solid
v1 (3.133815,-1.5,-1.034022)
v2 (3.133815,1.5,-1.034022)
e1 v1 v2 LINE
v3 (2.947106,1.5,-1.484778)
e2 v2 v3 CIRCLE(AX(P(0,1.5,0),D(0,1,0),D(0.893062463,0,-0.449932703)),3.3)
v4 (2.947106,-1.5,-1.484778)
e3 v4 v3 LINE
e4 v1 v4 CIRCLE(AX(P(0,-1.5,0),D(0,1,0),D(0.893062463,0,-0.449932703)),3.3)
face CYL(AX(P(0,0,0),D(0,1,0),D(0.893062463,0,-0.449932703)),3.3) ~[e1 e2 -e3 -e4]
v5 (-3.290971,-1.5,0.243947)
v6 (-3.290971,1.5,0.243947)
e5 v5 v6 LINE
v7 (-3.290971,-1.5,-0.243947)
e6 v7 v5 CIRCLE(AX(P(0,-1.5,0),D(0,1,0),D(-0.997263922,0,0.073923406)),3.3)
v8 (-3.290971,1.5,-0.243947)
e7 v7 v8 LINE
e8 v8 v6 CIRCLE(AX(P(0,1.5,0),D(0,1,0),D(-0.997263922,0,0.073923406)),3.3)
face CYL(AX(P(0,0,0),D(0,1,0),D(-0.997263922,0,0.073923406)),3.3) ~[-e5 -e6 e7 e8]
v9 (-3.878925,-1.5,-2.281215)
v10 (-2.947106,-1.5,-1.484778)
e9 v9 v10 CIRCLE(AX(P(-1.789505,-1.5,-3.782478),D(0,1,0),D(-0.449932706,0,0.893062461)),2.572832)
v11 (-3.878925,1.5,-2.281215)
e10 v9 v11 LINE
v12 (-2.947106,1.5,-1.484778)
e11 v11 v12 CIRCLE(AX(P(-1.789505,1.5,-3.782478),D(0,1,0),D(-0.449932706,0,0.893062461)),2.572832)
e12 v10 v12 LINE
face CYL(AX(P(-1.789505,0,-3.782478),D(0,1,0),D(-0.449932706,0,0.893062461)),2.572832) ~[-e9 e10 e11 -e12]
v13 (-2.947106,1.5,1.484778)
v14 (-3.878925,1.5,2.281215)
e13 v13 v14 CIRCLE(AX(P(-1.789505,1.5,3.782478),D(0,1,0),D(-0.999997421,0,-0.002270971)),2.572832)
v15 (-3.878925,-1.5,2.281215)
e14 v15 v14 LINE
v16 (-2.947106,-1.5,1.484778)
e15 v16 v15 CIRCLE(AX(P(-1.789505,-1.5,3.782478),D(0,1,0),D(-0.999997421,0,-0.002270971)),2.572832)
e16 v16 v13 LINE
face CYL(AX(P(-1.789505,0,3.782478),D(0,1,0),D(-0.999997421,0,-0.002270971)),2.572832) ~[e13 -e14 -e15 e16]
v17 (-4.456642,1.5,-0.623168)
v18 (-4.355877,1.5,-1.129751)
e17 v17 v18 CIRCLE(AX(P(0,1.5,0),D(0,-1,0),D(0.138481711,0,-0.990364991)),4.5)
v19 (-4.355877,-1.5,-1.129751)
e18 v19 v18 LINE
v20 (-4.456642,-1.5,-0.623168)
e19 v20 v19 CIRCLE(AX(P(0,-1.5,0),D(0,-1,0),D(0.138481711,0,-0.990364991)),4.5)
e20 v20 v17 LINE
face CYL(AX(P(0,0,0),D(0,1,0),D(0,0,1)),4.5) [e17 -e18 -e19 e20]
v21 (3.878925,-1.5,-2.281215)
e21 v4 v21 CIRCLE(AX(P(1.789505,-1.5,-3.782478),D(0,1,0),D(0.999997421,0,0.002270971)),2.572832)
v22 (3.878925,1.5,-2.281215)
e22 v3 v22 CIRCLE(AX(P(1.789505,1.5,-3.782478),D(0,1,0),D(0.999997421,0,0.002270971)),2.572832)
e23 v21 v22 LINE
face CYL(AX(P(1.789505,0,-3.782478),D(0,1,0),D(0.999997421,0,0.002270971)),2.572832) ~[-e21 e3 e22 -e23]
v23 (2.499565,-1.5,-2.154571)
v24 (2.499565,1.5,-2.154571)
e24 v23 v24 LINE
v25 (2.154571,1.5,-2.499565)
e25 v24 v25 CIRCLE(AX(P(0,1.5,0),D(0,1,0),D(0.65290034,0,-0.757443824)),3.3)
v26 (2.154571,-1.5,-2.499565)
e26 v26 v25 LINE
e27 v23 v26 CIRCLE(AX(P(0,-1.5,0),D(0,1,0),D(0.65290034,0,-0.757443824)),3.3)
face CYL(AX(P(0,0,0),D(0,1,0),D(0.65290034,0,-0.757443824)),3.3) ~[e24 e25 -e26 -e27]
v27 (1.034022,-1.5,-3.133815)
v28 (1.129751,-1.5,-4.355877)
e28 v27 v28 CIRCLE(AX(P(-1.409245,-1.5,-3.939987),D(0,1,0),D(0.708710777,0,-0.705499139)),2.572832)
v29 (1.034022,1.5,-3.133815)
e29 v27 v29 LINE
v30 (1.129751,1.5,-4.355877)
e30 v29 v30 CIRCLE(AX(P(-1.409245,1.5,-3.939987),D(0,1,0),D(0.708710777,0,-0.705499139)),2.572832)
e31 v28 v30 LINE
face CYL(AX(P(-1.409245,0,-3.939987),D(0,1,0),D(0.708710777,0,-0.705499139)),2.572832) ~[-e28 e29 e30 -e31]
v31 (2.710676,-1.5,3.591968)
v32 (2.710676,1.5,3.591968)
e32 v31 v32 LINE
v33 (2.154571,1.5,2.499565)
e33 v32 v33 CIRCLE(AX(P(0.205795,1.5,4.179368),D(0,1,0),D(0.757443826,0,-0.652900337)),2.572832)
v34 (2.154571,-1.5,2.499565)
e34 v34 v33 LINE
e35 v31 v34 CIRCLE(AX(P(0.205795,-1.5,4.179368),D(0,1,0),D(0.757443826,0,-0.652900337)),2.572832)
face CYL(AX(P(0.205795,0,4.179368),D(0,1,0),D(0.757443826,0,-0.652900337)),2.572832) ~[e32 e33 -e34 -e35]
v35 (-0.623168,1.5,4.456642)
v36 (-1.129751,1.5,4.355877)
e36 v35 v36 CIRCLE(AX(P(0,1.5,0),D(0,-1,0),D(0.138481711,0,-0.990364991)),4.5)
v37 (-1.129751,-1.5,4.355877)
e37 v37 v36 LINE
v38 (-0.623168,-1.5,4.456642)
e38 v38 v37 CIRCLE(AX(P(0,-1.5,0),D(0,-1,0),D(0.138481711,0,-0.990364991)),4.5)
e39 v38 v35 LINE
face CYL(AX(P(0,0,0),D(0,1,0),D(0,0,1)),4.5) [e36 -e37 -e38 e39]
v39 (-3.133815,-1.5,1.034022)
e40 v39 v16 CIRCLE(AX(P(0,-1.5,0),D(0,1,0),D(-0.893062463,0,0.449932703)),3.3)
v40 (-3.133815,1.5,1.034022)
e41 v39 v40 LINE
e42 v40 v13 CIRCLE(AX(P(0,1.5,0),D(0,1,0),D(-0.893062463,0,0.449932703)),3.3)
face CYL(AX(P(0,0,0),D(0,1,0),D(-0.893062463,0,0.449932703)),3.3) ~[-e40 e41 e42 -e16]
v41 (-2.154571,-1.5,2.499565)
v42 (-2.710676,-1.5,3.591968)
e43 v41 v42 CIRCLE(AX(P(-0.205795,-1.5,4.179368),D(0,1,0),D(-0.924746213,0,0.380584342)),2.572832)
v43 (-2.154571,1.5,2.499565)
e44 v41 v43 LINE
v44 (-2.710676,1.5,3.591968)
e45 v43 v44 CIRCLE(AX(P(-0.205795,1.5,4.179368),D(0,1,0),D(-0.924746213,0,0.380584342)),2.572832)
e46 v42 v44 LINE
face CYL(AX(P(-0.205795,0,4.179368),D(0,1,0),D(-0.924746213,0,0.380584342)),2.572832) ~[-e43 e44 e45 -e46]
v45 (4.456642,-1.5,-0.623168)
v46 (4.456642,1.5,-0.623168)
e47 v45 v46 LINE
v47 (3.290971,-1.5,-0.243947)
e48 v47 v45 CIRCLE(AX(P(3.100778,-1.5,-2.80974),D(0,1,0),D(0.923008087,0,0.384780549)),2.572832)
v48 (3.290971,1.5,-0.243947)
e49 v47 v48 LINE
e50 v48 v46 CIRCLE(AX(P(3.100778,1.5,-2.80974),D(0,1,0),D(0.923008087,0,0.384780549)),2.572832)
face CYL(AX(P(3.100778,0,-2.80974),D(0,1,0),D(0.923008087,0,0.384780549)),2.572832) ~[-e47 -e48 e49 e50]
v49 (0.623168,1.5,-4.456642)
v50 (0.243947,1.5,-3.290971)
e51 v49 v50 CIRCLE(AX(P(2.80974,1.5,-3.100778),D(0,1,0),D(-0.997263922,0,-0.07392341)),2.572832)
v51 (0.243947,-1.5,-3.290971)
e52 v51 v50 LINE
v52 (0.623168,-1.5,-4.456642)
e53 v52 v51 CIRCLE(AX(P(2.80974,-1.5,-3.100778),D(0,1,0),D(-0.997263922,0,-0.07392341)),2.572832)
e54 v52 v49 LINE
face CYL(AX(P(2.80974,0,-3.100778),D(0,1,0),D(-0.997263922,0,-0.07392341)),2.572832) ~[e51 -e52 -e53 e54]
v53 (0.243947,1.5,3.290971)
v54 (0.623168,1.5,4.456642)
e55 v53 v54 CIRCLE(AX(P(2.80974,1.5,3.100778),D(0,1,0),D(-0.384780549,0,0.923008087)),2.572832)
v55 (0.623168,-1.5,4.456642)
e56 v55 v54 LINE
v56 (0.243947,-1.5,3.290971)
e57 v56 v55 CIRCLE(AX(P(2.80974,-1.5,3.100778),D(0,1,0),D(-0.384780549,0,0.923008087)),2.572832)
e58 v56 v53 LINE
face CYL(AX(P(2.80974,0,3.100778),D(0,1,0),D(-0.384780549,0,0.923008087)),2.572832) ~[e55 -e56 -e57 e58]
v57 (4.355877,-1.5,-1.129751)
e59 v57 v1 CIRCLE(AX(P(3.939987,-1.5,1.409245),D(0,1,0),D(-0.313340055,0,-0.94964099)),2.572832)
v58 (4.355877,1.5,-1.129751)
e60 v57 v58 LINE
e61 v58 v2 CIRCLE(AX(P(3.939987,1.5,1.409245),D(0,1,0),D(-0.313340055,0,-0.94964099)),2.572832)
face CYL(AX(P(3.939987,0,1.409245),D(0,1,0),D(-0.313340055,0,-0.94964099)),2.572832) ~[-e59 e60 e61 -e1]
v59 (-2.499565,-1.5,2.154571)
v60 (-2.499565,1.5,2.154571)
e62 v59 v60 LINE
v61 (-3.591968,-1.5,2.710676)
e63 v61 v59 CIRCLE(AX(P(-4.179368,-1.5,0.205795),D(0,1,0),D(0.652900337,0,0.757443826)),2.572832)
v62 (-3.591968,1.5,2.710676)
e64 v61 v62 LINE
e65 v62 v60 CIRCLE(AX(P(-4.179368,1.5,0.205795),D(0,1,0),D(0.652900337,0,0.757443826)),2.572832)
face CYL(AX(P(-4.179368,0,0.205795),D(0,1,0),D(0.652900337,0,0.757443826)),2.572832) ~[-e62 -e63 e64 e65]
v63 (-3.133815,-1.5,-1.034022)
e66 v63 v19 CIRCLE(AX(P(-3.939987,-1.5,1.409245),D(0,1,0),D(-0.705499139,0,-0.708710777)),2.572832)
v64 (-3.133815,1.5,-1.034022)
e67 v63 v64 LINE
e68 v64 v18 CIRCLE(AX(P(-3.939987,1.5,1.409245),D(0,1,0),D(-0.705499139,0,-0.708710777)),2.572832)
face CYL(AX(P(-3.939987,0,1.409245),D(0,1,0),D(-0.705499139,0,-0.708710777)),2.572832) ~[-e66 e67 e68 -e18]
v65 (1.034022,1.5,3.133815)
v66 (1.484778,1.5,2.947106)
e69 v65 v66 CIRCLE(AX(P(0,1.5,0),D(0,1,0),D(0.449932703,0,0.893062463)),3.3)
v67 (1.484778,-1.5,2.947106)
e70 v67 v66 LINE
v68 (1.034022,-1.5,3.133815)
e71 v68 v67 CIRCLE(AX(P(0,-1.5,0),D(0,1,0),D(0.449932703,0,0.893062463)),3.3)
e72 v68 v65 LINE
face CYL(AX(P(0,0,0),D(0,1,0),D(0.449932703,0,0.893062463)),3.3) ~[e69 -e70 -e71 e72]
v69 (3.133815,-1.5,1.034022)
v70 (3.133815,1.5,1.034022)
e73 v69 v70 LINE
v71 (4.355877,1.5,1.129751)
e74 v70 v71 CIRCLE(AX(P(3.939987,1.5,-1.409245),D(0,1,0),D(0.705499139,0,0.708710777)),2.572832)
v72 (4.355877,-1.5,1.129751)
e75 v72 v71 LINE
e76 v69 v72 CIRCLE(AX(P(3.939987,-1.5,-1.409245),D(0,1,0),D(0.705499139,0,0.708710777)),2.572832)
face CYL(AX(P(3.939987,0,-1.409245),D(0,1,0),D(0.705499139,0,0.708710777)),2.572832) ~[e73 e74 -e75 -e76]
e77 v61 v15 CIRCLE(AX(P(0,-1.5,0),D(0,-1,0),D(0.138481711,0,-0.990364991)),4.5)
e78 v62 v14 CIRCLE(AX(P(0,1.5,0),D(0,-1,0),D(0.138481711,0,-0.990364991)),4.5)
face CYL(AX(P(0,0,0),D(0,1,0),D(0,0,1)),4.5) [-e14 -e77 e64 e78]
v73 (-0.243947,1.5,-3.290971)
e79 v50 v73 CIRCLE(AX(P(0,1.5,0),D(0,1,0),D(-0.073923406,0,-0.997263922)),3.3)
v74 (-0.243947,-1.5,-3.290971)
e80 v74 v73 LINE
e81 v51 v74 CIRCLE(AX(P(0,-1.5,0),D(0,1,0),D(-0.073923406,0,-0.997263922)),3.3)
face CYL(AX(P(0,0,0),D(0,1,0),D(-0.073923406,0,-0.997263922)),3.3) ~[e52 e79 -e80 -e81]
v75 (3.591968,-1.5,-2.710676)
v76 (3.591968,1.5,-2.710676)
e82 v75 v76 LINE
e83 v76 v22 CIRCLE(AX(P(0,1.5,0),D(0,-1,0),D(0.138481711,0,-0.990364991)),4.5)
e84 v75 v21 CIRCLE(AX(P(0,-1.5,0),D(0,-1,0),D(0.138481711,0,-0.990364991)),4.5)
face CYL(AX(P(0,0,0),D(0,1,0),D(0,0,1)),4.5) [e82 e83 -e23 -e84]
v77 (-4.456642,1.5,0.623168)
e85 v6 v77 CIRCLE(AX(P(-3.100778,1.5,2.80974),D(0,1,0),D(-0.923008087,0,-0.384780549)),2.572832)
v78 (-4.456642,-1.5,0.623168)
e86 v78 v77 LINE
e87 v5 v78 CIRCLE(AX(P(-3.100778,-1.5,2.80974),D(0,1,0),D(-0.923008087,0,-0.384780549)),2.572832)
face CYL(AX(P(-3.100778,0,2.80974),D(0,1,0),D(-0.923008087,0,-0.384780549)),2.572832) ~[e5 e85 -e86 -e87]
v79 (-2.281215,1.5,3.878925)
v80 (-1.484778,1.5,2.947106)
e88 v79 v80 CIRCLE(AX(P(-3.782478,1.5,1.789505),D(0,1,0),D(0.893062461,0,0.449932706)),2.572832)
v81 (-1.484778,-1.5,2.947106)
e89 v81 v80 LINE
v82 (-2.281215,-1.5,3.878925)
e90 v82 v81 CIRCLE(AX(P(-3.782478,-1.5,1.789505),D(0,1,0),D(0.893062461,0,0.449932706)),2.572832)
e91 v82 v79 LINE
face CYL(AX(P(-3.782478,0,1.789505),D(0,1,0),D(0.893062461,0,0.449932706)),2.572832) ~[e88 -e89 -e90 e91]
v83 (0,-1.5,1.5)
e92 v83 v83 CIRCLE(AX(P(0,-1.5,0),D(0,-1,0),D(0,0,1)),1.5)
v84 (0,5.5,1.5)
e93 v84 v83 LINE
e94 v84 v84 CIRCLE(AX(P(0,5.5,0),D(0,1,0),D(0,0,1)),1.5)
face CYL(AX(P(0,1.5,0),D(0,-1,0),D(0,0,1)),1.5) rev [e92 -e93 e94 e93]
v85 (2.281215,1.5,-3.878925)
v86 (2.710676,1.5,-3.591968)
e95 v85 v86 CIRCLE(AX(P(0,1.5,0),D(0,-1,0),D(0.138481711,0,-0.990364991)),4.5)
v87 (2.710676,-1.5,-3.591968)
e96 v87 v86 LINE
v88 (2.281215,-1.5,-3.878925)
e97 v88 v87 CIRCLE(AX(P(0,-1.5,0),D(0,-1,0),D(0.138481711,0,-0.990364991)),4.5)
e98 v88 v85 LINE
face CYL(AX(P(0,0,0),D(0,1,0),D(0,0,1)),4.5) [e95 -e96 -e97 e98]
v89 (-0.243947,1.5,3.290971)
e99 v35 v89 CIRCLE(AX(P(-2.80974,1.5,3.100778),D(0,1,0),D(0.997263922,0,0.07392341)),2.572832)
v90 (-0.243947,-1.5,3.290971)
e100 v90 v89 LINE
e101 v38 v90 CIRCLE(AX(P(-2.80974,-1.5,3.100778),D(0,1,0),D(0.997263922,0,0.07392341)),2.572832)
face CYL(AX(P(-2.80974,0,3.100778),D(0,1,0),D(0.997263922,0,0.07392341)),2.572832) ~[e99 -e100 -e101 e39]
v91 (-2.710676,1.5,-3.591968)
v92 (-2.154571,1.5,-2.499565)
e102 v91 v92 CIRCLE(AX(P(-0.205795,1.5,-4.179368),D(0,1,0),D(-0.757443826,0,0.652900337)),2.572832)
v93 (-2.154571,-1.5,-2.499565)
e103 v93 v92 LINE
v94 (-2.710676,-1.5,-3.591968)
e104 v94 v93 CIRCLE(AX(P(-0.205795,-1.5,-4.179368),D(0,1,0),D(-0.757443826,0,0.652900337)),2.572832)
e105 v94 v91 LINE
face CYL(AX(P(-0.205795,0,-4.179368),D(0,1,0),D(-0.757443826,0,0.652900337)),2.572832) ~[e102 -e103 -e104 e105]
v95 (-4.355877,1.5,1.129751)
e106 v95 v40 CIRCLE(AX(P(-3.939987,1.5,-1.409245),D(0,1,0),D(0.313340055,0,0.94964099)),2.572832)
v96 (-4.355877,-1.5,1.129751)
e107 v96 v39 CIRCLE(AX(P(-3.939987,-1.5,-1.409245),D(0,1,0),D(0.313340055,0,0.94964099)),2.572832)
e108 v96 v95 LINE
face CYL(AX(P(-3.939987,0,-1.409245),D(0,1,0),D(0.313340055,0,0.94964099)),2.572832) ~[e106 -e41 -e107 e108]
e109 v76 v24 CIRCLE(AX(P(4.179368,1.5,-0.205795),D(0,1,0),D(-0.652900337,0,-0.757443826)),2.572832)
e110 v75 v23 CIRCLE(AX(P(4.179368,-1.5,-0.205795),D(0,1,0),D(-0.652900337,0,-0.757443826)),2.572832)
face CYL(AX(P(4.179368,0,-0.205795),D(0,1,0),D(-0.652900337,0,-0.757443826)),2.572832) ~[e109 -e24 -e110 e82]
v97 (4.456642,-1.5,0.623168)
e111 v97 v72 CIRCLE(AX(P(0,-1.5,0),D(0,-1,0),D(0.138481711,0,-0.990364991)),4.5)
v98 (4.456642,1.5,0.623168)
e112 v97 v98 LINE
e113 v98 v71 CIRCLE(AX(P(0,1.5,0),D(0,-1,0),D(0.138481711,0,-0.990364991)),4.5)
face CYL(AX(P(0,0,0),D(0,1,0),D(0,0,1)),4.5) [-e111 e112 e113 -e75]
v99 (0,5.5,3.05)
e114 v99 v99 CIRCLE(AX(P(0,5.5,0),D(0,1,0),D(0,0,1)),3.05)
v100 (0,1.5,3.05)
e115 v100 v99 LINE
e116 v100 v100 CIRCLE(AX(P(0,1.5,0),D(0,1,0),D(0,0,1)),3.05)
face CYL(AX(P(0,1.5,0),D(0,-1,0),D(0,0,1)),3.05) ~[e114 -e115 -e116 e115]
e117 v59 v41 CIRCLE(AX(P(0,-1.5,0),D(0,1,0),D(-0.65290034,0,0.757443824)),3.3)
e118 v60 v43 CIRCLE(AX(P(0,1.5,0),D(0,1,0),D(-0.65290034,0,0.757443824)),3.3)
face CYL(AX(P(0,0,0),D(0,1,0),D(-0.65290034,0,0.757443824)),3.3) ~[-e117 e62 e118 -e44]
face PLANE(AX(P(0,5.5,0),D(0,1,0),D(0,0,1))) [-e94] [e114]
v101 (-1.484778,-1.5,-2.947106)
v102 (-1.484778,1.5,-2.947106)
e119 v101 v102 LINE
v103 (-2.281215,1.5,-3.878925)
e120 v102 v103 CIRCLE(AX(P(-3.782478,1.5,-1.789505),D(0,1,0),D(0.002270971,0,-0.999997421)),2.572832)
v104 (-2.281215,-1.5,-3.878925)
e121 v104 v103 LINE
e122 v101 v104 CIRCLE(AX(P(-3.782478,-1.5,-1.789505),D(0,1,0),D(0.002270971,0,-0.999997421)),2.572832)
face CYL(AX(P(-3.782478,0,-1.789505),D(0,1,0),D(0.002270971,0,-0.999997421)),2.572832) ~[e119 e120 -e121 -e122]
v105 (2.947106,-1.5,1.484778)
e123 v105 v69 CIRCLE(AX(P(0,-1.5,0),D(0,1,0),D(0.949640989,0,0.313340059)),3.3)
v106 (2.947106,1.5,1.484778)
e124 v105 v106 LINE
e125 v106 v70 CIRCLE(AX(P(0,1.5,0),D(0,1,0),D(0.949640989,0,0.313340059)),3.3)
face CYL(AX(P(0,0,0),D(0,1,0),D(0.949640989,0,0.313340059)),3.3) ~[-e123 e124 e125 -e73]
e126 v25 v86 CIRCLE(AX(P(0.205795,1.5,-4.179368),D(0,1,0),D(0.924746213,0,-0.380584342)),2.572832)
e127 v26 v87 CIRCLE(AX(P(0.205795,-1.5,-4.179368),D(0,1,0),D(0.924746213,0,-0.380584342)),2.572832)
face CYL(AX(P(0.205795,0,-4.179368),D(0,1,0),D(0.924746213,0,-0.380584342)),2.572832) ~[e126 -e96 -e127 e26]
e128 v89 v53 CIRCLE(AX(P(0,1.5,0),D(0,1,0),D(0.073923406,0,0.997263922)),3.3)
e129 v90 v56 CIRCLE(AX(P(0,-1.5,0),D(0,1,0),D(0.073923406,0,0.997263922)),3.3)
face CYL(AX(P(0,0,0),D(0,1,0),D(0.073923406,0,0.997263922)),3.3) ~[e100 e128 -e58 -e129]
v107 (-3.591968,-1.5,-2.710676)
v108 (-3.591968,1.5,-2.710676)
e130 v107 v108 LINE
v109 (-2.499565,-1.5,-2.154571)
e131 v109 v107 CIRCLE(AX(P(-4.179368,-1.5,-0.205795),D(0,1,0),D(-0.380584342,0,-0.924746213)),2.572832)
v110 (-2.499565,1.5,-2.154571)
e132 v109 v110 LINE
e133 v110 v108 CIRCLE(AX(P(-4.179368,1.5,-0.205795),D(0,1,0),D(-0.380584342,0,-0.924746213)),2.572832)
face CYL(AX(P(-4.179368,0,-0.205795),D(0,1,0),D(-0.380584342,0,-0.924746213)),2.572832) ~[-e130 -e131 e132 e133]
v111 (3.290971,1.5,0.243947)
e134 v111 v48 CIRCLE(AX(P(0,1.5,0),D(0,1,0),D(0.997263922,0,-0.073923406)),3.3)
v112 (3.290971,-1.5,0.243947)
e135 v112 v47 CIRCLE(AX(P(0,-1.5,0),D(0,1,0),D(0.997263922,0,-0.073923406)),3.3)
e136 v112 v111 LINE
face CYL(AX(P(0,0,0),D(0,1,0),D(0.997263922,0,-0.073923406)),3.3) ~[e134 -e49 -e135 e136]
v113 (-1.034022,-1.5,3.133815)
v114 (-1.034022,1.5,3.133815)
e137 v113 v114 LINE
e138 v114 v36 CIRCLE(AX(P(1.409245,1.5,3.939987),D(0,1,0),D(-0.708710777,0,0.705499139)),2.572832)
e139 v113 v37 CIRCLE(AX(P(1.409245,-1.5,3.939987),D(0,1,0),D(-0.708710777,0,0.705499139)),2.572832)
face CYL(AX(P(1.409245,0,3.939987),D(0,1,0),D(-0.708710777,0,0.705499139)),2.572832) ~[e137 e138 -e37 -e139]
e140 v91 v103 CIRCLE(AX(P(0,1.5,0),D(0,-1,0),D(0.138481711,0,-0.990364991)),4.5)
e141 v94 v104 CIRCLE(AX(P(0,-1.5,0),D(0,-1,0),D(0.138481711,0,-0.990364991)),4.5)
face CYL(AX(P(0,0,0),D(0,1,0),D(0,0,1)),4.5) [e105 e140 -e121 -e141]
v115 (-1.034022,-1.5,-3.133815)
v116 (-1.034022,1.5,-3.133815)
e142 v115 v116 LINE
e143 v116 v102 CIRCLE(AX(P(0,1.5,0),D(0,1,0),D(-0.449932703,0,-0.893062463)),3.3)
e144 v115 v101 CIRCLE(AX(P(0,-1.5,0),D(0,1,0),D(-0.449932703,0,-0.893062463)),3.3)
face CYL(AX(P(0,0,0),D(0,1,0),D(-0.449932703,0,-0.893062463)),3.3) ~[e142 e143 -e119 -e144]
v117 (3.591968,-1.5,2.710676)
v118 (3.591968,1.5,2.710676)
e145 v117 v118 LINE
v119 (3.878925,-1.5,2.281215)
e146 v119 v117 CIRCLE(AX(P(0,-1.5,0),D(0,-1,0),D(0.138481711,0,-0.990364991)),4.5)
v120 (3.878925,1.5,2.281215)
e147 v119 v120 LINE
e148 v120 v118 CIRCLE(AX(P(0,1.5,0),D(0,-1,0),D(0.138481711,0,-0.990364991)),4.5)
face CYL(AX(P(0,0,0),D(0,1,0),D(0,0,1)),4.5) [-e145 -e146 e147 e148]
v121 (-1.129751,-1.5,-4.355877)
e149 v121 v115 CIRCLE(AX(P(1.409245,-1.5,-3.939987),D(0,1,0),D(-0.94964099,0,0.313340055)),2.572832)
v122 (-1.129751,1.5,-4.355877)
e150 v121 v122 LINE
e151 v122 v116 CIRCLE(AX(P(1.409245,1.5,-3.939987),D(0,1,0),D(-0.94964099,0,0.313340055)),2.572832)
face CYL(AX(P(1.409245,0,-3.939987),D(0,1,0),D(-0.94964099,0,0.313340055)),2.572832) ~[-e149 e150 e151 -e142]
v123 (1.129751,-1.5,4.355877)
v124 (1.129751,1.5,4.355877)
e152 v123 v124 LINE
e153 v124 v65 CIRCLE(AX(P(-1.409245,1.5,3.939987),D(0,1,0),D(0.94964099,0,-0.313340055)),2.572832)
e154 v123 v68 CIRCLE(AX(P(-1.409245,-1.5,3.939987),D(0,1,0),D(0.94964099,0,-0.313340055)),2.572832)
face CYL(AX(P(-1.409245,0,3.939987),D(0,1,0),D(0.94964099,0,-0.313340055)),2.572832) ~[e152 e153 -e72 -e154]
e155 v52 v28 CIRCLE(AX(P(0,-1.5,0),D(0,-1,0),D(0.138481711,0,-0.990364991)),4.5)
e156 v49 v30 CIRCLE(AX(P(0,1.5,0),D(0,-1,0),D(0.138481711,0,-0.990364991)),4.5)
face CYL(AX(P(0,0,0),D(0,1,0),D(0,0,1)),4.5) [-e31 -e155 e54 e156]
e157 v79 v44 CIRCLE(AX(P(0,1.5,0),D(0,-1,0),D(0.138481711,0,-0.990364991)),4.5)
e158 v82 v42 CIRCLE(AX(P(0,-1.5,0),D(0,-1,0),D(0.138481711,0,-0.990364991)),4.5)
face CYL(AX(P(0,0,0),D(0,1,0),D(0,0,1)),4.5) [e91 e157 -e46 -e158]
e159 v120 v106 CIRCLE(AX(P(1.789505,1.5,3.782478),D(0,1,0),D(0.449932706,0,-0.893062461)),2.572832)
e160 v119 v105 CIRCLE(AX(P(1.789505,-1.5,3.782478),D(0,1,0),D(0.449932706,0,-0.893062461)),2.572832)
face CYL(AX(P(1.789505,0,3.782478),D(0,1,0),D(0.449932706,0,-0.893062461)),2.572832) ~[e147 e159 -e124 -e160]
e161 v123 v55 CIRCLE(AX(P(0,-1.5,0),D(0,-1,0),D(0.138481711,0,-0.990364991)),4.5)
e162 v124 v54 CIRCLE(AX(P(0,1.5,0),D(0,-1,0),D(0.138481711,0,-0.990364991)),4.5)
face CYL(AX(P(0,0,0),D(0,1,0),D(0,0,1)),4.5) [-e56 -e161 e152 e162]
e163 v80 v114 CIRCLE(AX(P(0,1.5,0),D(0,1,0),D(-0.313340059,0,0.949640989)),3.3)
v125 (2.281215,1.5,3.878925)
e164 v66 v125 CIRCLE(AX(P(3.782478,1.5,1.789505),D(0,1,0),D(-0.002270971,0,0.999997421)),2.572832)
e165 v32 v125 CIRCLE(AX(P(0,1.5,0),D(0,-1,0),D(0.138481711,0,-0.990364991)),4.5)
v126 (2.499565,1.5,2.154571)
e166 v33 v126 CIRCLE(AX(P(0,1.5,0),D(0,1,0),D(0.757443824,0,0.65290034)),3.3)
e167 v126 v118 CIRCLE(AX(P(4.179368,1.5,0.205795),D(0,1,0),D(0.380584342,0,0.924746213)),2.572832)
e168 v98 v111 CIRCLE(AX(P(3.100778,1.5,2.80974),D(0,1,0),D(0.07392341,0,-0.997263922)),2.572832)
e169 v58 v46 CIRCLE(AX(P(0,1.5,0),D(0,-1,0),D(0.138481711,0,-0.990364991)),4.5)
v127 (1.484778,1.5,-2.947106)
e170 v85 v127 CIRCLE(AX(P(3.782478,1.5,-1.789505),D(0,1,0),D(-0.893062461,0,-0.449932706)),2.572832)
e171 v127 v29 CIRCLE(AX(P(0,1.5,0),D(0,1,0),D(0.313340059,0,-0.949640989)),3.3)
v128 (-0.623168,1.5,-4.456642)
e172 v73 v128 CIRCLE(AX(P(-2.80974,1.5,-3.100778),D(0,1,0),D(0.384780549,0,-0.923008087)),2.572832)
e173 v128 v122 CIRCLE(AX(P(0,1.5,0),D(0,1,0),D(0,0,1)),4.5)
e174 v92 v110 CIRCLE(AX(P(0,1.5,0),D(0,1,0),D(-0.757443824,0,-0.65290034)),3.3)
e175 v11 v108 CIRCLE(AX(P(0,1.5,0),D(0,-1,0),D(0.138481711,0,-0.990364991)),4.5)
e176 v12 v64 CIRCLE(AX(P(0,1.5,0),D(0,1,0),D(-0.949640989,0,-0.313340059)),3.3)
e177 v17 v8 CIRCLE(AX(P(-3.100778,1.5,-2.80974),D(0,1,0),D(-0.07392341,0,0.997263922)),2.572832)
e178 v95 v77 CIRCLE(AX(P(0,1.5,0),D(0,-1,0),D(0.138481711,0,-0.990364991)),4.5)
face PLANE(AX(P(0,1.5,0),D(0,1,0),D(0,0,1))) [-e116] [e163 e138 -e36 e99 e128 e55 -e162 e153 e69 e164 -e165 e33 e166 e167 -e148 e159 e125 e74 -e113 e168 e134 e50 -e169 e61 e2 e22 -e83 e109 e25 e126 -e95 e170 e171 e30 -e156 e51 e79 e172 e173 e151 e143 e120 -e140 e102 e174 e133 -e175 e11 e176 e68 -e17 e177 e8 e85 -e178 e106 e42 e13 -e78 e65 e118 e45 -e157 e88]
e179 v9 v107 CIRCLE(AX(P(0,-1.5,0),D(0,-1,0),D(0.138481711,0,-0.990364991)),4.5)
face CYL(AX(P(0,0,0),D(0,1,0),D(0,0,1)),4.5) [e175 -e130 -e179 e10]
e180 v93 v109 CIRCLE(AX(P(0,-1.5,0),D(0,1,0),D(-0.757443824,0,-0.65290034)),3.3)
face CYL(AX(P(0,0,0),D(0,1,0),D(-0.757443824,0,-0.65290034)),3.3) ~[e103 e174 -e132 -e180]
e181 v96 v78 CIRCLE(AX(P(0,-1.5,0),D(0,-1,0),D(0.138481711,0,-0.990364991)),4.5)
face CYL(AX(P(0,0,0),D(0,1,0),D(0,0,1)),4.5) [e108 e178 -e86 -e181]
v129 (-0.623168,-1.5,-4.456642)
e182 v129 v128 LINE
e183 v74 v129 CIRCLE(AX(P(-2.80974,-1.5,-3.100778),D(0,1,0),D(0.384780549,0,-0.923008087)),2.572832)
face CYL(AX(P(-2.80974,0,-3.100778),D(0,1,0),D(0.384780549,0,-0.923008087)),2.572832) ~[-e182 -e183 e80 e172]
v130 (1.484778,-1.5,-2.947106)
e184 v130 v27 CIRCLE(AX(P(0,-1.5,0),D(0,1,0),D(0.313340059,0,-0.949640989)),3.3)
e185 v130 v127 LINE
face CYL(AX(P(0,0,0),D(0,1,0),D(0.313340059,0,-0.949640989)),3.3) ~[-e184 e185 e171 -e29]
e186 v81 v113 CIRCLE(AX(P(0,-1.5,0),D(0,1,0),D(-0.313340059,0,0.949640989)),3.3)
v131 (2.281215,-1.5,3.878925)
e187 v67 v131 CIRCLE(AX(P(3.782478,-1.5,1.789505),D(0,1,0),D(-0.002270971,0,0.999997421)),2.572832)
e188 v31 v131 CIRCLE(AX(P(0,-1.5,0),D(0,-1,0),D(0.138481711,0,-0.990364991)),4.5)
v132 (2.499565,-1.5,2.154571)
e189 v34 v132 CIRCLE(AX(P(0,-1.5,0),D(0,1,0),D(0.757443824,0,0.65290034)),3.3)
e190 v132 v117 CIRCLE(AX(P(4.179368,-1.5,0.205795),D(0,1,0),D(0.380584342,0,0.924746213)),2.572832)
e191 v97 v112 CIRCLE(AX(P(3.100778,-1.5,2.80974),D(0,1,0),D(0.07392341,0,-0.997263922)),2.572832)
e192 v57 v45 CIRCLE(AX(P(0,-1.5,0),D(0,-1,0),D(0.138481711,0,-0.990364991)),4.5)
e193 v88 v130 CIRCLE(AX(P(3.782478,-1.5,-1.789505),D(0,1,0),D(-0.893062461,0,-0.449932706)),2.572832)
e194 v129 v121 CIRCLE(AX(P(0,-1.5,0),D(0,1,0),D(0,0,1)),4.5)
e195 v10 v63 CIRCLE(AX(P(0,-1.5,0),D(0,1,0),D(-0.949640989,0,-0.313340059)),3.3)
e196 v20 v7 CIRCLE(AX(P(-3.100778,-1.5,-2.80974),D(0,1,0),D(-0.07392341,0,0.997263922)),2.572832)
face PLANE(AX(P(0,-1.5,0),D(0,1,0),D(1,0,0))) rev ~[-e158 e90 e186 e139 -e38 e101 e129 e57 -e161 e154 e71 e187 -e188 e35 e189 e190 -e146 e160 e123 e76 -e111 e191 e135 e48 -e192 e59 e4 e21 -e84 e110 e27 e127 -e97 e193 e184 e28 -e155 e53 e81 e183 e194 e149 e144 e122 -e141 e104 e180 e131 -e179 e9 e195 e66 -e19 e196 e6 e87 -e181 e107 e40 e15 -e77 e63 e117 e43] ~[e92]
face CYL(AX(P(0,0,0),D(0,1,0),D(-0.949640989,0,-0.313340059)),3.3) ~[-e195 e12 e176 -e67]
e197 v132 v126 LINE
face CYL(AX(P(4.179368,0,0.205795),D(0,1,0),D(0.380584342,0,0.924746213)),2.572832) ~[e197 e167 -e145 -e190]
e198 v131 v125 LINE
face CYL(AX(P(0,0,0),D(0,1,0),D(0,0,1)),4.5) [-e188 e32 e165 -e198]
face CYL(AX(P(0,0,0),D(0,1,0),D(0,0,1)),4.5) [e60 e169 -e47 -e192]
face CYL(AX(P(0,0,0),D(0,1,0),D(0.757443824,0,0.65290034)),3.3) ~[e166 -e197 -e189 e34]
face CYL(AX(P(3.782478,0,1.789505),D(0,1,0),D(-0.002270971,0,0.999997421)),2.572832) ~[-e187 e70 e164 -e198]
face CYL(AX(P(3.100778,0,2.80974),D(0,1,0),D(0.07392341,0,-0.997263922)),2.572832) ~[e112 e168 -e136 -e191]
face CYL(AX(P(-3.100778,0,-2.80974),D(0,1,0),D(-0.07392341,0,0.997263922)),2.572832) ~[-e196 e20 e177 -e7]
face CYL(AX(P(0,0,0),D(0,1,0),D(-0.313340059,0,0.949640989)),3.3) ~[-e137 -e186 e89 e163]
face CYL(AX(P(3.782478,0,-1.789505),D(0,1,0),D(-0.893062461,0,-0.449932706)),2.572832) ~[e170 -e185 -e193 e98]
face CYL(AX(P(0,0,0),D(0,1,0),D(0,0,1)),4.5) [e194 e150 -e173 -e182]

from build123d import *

# Parameters (mm, degrees)
SKETCH1_R               = 4.5
SKETCH1_R_2             = 4
SKETCH1_R_3             = 3.3
BOSS_EXTRUDE1_DEPTH     = 1.5
CUT_EXTRUDE1_DEPTH      = 7.538348415
CIRPATTERN1_COUNT       = 16
CUT_EXTRUDE2_DEPTH      = 7.478682276
CUT_EXTRUDE2_DEPTH_BACK = 7.478682276
SKETCH4_R               = 1.5
SKETCH5_R               = 3.05
SKETCH5_R_2             = 1.5
BOSS_EXTRUDE2_DEPTH     = 4


with BuildPart() as part:
    # Sketch1 → Boss-Extrude1 (new, symmetric)
    # profile 1 of 3: a face of its own
    with BuildSketch(Plane(origin=(0, 0, 0), x_dir=(1, 0, 0), z_dir=(0, 1, 0))):
        with Locations(Location((0, 0, 0), (0, 0, 270))):
            Circle(SKETCH1_R)
        Circle(SKETCH1_R_2, mode=Mode.SUBTRACT)
    # profile 2 of 3: a face of its own
    with BuildSketch(Plane(origin=(0, 0, 0), x_dir=(1, 0, 0), z_dir=(0, 1, 0))):
        Circle(SKETCH1_R_2)
        Circle(SKETCH1_R_3, mode=Mode.SUBTRACT)
    # profile 3 of 3: a face of its own
    with BuildSketch(Plane(origin=(0, 0, 0), x_dir=(1, 0, 0), z_dir=(0, 1, 0))):
        Circle(SKETCH1_R_3)
    extrude(amount=BOSS_EXTRUDE1_DEPTH, both=True)

    # Sketch3 → Cut-Extrude1 (cut, symmetric)
    with BuildSketch(Plane(origin=(0, 0, 0), x_dir=(1, 0, 0), z_dir=(0, 1, 0))):
        with BuildLine():
            ThreePointArc((-1.819764324, 5.475523519), (-0.723130395, 4.605944889), (-0.243947252, 3.290970942))
            ThreePointArc((-0.243947252, 3.290970942), (0, 3.3), (0.243947252, 3.290970942))
            ThreePointArc((0.243947252, 3.290970942), (0.723130395, 4.605944889), (1.819764324, 5.475523519))
            ThreePointArc((1.819764324, 5.475523519), (0, 5.77), (-1.819764324, 5.475523519))
        make_face()
    cut_extrude1 = extrude(amount=CUT_EXTRUDE1_DEPTH, both=True, mode=Mode.SUBTRACT)

    # CirPattern1: Cut-Extrude1 ×16 about axis
    cirpattern1_axis = Axis((0, 0, 0), (0, 1, 0))
    for i in range(1, CIRPATTERN1_COUNT):
        add(cut_extrude1.rotate(cirpattern1_axis, i * 360 / CIRPATTERN1_COUNT), mode=Mode.SUBTRACT)

    # Sketch4 → Cut-Extrude2 (cut, two sides: drawn at the far end of the back side and taken through both)
    with BuildSketch(Plane(origin=(0, 0, 0), x_dir=(1, 0, 0), z_dir=(0, 1, 0)).offset(-CUT_EXTRUDE2_DEPTH_BACK)):
        with Locations(Location((0, 0, 0), (0, 0, 270))):
            Circle(SKETCH4_R)
    extrude(amount=CUT_EXTRUDE2_DEPTH + CUT_EXTRUDE2_DEPTH_BACK, mode=Mode.SUBTRACT)

    # Sketch5 → Boss-Extrude2 (add)
    with BuildSketch(Plane(origin=(0, 1.5, 0), x_dir=(1, 0, 0), z_dir=(0, 1, 0))):
        with Locations(Location((0, 0, 0), (0, 0, 270))):
            Circle(SKETCH5_R)
        with Locations(Location((0, 0, 0), (0, 0, 270))):
            Circle(SKETCH5_R_2, mode=Mode.SUBTRACT)
    extrude(amount=BOSS_EXTRUDE2_DEPTH)


solid = part.part
